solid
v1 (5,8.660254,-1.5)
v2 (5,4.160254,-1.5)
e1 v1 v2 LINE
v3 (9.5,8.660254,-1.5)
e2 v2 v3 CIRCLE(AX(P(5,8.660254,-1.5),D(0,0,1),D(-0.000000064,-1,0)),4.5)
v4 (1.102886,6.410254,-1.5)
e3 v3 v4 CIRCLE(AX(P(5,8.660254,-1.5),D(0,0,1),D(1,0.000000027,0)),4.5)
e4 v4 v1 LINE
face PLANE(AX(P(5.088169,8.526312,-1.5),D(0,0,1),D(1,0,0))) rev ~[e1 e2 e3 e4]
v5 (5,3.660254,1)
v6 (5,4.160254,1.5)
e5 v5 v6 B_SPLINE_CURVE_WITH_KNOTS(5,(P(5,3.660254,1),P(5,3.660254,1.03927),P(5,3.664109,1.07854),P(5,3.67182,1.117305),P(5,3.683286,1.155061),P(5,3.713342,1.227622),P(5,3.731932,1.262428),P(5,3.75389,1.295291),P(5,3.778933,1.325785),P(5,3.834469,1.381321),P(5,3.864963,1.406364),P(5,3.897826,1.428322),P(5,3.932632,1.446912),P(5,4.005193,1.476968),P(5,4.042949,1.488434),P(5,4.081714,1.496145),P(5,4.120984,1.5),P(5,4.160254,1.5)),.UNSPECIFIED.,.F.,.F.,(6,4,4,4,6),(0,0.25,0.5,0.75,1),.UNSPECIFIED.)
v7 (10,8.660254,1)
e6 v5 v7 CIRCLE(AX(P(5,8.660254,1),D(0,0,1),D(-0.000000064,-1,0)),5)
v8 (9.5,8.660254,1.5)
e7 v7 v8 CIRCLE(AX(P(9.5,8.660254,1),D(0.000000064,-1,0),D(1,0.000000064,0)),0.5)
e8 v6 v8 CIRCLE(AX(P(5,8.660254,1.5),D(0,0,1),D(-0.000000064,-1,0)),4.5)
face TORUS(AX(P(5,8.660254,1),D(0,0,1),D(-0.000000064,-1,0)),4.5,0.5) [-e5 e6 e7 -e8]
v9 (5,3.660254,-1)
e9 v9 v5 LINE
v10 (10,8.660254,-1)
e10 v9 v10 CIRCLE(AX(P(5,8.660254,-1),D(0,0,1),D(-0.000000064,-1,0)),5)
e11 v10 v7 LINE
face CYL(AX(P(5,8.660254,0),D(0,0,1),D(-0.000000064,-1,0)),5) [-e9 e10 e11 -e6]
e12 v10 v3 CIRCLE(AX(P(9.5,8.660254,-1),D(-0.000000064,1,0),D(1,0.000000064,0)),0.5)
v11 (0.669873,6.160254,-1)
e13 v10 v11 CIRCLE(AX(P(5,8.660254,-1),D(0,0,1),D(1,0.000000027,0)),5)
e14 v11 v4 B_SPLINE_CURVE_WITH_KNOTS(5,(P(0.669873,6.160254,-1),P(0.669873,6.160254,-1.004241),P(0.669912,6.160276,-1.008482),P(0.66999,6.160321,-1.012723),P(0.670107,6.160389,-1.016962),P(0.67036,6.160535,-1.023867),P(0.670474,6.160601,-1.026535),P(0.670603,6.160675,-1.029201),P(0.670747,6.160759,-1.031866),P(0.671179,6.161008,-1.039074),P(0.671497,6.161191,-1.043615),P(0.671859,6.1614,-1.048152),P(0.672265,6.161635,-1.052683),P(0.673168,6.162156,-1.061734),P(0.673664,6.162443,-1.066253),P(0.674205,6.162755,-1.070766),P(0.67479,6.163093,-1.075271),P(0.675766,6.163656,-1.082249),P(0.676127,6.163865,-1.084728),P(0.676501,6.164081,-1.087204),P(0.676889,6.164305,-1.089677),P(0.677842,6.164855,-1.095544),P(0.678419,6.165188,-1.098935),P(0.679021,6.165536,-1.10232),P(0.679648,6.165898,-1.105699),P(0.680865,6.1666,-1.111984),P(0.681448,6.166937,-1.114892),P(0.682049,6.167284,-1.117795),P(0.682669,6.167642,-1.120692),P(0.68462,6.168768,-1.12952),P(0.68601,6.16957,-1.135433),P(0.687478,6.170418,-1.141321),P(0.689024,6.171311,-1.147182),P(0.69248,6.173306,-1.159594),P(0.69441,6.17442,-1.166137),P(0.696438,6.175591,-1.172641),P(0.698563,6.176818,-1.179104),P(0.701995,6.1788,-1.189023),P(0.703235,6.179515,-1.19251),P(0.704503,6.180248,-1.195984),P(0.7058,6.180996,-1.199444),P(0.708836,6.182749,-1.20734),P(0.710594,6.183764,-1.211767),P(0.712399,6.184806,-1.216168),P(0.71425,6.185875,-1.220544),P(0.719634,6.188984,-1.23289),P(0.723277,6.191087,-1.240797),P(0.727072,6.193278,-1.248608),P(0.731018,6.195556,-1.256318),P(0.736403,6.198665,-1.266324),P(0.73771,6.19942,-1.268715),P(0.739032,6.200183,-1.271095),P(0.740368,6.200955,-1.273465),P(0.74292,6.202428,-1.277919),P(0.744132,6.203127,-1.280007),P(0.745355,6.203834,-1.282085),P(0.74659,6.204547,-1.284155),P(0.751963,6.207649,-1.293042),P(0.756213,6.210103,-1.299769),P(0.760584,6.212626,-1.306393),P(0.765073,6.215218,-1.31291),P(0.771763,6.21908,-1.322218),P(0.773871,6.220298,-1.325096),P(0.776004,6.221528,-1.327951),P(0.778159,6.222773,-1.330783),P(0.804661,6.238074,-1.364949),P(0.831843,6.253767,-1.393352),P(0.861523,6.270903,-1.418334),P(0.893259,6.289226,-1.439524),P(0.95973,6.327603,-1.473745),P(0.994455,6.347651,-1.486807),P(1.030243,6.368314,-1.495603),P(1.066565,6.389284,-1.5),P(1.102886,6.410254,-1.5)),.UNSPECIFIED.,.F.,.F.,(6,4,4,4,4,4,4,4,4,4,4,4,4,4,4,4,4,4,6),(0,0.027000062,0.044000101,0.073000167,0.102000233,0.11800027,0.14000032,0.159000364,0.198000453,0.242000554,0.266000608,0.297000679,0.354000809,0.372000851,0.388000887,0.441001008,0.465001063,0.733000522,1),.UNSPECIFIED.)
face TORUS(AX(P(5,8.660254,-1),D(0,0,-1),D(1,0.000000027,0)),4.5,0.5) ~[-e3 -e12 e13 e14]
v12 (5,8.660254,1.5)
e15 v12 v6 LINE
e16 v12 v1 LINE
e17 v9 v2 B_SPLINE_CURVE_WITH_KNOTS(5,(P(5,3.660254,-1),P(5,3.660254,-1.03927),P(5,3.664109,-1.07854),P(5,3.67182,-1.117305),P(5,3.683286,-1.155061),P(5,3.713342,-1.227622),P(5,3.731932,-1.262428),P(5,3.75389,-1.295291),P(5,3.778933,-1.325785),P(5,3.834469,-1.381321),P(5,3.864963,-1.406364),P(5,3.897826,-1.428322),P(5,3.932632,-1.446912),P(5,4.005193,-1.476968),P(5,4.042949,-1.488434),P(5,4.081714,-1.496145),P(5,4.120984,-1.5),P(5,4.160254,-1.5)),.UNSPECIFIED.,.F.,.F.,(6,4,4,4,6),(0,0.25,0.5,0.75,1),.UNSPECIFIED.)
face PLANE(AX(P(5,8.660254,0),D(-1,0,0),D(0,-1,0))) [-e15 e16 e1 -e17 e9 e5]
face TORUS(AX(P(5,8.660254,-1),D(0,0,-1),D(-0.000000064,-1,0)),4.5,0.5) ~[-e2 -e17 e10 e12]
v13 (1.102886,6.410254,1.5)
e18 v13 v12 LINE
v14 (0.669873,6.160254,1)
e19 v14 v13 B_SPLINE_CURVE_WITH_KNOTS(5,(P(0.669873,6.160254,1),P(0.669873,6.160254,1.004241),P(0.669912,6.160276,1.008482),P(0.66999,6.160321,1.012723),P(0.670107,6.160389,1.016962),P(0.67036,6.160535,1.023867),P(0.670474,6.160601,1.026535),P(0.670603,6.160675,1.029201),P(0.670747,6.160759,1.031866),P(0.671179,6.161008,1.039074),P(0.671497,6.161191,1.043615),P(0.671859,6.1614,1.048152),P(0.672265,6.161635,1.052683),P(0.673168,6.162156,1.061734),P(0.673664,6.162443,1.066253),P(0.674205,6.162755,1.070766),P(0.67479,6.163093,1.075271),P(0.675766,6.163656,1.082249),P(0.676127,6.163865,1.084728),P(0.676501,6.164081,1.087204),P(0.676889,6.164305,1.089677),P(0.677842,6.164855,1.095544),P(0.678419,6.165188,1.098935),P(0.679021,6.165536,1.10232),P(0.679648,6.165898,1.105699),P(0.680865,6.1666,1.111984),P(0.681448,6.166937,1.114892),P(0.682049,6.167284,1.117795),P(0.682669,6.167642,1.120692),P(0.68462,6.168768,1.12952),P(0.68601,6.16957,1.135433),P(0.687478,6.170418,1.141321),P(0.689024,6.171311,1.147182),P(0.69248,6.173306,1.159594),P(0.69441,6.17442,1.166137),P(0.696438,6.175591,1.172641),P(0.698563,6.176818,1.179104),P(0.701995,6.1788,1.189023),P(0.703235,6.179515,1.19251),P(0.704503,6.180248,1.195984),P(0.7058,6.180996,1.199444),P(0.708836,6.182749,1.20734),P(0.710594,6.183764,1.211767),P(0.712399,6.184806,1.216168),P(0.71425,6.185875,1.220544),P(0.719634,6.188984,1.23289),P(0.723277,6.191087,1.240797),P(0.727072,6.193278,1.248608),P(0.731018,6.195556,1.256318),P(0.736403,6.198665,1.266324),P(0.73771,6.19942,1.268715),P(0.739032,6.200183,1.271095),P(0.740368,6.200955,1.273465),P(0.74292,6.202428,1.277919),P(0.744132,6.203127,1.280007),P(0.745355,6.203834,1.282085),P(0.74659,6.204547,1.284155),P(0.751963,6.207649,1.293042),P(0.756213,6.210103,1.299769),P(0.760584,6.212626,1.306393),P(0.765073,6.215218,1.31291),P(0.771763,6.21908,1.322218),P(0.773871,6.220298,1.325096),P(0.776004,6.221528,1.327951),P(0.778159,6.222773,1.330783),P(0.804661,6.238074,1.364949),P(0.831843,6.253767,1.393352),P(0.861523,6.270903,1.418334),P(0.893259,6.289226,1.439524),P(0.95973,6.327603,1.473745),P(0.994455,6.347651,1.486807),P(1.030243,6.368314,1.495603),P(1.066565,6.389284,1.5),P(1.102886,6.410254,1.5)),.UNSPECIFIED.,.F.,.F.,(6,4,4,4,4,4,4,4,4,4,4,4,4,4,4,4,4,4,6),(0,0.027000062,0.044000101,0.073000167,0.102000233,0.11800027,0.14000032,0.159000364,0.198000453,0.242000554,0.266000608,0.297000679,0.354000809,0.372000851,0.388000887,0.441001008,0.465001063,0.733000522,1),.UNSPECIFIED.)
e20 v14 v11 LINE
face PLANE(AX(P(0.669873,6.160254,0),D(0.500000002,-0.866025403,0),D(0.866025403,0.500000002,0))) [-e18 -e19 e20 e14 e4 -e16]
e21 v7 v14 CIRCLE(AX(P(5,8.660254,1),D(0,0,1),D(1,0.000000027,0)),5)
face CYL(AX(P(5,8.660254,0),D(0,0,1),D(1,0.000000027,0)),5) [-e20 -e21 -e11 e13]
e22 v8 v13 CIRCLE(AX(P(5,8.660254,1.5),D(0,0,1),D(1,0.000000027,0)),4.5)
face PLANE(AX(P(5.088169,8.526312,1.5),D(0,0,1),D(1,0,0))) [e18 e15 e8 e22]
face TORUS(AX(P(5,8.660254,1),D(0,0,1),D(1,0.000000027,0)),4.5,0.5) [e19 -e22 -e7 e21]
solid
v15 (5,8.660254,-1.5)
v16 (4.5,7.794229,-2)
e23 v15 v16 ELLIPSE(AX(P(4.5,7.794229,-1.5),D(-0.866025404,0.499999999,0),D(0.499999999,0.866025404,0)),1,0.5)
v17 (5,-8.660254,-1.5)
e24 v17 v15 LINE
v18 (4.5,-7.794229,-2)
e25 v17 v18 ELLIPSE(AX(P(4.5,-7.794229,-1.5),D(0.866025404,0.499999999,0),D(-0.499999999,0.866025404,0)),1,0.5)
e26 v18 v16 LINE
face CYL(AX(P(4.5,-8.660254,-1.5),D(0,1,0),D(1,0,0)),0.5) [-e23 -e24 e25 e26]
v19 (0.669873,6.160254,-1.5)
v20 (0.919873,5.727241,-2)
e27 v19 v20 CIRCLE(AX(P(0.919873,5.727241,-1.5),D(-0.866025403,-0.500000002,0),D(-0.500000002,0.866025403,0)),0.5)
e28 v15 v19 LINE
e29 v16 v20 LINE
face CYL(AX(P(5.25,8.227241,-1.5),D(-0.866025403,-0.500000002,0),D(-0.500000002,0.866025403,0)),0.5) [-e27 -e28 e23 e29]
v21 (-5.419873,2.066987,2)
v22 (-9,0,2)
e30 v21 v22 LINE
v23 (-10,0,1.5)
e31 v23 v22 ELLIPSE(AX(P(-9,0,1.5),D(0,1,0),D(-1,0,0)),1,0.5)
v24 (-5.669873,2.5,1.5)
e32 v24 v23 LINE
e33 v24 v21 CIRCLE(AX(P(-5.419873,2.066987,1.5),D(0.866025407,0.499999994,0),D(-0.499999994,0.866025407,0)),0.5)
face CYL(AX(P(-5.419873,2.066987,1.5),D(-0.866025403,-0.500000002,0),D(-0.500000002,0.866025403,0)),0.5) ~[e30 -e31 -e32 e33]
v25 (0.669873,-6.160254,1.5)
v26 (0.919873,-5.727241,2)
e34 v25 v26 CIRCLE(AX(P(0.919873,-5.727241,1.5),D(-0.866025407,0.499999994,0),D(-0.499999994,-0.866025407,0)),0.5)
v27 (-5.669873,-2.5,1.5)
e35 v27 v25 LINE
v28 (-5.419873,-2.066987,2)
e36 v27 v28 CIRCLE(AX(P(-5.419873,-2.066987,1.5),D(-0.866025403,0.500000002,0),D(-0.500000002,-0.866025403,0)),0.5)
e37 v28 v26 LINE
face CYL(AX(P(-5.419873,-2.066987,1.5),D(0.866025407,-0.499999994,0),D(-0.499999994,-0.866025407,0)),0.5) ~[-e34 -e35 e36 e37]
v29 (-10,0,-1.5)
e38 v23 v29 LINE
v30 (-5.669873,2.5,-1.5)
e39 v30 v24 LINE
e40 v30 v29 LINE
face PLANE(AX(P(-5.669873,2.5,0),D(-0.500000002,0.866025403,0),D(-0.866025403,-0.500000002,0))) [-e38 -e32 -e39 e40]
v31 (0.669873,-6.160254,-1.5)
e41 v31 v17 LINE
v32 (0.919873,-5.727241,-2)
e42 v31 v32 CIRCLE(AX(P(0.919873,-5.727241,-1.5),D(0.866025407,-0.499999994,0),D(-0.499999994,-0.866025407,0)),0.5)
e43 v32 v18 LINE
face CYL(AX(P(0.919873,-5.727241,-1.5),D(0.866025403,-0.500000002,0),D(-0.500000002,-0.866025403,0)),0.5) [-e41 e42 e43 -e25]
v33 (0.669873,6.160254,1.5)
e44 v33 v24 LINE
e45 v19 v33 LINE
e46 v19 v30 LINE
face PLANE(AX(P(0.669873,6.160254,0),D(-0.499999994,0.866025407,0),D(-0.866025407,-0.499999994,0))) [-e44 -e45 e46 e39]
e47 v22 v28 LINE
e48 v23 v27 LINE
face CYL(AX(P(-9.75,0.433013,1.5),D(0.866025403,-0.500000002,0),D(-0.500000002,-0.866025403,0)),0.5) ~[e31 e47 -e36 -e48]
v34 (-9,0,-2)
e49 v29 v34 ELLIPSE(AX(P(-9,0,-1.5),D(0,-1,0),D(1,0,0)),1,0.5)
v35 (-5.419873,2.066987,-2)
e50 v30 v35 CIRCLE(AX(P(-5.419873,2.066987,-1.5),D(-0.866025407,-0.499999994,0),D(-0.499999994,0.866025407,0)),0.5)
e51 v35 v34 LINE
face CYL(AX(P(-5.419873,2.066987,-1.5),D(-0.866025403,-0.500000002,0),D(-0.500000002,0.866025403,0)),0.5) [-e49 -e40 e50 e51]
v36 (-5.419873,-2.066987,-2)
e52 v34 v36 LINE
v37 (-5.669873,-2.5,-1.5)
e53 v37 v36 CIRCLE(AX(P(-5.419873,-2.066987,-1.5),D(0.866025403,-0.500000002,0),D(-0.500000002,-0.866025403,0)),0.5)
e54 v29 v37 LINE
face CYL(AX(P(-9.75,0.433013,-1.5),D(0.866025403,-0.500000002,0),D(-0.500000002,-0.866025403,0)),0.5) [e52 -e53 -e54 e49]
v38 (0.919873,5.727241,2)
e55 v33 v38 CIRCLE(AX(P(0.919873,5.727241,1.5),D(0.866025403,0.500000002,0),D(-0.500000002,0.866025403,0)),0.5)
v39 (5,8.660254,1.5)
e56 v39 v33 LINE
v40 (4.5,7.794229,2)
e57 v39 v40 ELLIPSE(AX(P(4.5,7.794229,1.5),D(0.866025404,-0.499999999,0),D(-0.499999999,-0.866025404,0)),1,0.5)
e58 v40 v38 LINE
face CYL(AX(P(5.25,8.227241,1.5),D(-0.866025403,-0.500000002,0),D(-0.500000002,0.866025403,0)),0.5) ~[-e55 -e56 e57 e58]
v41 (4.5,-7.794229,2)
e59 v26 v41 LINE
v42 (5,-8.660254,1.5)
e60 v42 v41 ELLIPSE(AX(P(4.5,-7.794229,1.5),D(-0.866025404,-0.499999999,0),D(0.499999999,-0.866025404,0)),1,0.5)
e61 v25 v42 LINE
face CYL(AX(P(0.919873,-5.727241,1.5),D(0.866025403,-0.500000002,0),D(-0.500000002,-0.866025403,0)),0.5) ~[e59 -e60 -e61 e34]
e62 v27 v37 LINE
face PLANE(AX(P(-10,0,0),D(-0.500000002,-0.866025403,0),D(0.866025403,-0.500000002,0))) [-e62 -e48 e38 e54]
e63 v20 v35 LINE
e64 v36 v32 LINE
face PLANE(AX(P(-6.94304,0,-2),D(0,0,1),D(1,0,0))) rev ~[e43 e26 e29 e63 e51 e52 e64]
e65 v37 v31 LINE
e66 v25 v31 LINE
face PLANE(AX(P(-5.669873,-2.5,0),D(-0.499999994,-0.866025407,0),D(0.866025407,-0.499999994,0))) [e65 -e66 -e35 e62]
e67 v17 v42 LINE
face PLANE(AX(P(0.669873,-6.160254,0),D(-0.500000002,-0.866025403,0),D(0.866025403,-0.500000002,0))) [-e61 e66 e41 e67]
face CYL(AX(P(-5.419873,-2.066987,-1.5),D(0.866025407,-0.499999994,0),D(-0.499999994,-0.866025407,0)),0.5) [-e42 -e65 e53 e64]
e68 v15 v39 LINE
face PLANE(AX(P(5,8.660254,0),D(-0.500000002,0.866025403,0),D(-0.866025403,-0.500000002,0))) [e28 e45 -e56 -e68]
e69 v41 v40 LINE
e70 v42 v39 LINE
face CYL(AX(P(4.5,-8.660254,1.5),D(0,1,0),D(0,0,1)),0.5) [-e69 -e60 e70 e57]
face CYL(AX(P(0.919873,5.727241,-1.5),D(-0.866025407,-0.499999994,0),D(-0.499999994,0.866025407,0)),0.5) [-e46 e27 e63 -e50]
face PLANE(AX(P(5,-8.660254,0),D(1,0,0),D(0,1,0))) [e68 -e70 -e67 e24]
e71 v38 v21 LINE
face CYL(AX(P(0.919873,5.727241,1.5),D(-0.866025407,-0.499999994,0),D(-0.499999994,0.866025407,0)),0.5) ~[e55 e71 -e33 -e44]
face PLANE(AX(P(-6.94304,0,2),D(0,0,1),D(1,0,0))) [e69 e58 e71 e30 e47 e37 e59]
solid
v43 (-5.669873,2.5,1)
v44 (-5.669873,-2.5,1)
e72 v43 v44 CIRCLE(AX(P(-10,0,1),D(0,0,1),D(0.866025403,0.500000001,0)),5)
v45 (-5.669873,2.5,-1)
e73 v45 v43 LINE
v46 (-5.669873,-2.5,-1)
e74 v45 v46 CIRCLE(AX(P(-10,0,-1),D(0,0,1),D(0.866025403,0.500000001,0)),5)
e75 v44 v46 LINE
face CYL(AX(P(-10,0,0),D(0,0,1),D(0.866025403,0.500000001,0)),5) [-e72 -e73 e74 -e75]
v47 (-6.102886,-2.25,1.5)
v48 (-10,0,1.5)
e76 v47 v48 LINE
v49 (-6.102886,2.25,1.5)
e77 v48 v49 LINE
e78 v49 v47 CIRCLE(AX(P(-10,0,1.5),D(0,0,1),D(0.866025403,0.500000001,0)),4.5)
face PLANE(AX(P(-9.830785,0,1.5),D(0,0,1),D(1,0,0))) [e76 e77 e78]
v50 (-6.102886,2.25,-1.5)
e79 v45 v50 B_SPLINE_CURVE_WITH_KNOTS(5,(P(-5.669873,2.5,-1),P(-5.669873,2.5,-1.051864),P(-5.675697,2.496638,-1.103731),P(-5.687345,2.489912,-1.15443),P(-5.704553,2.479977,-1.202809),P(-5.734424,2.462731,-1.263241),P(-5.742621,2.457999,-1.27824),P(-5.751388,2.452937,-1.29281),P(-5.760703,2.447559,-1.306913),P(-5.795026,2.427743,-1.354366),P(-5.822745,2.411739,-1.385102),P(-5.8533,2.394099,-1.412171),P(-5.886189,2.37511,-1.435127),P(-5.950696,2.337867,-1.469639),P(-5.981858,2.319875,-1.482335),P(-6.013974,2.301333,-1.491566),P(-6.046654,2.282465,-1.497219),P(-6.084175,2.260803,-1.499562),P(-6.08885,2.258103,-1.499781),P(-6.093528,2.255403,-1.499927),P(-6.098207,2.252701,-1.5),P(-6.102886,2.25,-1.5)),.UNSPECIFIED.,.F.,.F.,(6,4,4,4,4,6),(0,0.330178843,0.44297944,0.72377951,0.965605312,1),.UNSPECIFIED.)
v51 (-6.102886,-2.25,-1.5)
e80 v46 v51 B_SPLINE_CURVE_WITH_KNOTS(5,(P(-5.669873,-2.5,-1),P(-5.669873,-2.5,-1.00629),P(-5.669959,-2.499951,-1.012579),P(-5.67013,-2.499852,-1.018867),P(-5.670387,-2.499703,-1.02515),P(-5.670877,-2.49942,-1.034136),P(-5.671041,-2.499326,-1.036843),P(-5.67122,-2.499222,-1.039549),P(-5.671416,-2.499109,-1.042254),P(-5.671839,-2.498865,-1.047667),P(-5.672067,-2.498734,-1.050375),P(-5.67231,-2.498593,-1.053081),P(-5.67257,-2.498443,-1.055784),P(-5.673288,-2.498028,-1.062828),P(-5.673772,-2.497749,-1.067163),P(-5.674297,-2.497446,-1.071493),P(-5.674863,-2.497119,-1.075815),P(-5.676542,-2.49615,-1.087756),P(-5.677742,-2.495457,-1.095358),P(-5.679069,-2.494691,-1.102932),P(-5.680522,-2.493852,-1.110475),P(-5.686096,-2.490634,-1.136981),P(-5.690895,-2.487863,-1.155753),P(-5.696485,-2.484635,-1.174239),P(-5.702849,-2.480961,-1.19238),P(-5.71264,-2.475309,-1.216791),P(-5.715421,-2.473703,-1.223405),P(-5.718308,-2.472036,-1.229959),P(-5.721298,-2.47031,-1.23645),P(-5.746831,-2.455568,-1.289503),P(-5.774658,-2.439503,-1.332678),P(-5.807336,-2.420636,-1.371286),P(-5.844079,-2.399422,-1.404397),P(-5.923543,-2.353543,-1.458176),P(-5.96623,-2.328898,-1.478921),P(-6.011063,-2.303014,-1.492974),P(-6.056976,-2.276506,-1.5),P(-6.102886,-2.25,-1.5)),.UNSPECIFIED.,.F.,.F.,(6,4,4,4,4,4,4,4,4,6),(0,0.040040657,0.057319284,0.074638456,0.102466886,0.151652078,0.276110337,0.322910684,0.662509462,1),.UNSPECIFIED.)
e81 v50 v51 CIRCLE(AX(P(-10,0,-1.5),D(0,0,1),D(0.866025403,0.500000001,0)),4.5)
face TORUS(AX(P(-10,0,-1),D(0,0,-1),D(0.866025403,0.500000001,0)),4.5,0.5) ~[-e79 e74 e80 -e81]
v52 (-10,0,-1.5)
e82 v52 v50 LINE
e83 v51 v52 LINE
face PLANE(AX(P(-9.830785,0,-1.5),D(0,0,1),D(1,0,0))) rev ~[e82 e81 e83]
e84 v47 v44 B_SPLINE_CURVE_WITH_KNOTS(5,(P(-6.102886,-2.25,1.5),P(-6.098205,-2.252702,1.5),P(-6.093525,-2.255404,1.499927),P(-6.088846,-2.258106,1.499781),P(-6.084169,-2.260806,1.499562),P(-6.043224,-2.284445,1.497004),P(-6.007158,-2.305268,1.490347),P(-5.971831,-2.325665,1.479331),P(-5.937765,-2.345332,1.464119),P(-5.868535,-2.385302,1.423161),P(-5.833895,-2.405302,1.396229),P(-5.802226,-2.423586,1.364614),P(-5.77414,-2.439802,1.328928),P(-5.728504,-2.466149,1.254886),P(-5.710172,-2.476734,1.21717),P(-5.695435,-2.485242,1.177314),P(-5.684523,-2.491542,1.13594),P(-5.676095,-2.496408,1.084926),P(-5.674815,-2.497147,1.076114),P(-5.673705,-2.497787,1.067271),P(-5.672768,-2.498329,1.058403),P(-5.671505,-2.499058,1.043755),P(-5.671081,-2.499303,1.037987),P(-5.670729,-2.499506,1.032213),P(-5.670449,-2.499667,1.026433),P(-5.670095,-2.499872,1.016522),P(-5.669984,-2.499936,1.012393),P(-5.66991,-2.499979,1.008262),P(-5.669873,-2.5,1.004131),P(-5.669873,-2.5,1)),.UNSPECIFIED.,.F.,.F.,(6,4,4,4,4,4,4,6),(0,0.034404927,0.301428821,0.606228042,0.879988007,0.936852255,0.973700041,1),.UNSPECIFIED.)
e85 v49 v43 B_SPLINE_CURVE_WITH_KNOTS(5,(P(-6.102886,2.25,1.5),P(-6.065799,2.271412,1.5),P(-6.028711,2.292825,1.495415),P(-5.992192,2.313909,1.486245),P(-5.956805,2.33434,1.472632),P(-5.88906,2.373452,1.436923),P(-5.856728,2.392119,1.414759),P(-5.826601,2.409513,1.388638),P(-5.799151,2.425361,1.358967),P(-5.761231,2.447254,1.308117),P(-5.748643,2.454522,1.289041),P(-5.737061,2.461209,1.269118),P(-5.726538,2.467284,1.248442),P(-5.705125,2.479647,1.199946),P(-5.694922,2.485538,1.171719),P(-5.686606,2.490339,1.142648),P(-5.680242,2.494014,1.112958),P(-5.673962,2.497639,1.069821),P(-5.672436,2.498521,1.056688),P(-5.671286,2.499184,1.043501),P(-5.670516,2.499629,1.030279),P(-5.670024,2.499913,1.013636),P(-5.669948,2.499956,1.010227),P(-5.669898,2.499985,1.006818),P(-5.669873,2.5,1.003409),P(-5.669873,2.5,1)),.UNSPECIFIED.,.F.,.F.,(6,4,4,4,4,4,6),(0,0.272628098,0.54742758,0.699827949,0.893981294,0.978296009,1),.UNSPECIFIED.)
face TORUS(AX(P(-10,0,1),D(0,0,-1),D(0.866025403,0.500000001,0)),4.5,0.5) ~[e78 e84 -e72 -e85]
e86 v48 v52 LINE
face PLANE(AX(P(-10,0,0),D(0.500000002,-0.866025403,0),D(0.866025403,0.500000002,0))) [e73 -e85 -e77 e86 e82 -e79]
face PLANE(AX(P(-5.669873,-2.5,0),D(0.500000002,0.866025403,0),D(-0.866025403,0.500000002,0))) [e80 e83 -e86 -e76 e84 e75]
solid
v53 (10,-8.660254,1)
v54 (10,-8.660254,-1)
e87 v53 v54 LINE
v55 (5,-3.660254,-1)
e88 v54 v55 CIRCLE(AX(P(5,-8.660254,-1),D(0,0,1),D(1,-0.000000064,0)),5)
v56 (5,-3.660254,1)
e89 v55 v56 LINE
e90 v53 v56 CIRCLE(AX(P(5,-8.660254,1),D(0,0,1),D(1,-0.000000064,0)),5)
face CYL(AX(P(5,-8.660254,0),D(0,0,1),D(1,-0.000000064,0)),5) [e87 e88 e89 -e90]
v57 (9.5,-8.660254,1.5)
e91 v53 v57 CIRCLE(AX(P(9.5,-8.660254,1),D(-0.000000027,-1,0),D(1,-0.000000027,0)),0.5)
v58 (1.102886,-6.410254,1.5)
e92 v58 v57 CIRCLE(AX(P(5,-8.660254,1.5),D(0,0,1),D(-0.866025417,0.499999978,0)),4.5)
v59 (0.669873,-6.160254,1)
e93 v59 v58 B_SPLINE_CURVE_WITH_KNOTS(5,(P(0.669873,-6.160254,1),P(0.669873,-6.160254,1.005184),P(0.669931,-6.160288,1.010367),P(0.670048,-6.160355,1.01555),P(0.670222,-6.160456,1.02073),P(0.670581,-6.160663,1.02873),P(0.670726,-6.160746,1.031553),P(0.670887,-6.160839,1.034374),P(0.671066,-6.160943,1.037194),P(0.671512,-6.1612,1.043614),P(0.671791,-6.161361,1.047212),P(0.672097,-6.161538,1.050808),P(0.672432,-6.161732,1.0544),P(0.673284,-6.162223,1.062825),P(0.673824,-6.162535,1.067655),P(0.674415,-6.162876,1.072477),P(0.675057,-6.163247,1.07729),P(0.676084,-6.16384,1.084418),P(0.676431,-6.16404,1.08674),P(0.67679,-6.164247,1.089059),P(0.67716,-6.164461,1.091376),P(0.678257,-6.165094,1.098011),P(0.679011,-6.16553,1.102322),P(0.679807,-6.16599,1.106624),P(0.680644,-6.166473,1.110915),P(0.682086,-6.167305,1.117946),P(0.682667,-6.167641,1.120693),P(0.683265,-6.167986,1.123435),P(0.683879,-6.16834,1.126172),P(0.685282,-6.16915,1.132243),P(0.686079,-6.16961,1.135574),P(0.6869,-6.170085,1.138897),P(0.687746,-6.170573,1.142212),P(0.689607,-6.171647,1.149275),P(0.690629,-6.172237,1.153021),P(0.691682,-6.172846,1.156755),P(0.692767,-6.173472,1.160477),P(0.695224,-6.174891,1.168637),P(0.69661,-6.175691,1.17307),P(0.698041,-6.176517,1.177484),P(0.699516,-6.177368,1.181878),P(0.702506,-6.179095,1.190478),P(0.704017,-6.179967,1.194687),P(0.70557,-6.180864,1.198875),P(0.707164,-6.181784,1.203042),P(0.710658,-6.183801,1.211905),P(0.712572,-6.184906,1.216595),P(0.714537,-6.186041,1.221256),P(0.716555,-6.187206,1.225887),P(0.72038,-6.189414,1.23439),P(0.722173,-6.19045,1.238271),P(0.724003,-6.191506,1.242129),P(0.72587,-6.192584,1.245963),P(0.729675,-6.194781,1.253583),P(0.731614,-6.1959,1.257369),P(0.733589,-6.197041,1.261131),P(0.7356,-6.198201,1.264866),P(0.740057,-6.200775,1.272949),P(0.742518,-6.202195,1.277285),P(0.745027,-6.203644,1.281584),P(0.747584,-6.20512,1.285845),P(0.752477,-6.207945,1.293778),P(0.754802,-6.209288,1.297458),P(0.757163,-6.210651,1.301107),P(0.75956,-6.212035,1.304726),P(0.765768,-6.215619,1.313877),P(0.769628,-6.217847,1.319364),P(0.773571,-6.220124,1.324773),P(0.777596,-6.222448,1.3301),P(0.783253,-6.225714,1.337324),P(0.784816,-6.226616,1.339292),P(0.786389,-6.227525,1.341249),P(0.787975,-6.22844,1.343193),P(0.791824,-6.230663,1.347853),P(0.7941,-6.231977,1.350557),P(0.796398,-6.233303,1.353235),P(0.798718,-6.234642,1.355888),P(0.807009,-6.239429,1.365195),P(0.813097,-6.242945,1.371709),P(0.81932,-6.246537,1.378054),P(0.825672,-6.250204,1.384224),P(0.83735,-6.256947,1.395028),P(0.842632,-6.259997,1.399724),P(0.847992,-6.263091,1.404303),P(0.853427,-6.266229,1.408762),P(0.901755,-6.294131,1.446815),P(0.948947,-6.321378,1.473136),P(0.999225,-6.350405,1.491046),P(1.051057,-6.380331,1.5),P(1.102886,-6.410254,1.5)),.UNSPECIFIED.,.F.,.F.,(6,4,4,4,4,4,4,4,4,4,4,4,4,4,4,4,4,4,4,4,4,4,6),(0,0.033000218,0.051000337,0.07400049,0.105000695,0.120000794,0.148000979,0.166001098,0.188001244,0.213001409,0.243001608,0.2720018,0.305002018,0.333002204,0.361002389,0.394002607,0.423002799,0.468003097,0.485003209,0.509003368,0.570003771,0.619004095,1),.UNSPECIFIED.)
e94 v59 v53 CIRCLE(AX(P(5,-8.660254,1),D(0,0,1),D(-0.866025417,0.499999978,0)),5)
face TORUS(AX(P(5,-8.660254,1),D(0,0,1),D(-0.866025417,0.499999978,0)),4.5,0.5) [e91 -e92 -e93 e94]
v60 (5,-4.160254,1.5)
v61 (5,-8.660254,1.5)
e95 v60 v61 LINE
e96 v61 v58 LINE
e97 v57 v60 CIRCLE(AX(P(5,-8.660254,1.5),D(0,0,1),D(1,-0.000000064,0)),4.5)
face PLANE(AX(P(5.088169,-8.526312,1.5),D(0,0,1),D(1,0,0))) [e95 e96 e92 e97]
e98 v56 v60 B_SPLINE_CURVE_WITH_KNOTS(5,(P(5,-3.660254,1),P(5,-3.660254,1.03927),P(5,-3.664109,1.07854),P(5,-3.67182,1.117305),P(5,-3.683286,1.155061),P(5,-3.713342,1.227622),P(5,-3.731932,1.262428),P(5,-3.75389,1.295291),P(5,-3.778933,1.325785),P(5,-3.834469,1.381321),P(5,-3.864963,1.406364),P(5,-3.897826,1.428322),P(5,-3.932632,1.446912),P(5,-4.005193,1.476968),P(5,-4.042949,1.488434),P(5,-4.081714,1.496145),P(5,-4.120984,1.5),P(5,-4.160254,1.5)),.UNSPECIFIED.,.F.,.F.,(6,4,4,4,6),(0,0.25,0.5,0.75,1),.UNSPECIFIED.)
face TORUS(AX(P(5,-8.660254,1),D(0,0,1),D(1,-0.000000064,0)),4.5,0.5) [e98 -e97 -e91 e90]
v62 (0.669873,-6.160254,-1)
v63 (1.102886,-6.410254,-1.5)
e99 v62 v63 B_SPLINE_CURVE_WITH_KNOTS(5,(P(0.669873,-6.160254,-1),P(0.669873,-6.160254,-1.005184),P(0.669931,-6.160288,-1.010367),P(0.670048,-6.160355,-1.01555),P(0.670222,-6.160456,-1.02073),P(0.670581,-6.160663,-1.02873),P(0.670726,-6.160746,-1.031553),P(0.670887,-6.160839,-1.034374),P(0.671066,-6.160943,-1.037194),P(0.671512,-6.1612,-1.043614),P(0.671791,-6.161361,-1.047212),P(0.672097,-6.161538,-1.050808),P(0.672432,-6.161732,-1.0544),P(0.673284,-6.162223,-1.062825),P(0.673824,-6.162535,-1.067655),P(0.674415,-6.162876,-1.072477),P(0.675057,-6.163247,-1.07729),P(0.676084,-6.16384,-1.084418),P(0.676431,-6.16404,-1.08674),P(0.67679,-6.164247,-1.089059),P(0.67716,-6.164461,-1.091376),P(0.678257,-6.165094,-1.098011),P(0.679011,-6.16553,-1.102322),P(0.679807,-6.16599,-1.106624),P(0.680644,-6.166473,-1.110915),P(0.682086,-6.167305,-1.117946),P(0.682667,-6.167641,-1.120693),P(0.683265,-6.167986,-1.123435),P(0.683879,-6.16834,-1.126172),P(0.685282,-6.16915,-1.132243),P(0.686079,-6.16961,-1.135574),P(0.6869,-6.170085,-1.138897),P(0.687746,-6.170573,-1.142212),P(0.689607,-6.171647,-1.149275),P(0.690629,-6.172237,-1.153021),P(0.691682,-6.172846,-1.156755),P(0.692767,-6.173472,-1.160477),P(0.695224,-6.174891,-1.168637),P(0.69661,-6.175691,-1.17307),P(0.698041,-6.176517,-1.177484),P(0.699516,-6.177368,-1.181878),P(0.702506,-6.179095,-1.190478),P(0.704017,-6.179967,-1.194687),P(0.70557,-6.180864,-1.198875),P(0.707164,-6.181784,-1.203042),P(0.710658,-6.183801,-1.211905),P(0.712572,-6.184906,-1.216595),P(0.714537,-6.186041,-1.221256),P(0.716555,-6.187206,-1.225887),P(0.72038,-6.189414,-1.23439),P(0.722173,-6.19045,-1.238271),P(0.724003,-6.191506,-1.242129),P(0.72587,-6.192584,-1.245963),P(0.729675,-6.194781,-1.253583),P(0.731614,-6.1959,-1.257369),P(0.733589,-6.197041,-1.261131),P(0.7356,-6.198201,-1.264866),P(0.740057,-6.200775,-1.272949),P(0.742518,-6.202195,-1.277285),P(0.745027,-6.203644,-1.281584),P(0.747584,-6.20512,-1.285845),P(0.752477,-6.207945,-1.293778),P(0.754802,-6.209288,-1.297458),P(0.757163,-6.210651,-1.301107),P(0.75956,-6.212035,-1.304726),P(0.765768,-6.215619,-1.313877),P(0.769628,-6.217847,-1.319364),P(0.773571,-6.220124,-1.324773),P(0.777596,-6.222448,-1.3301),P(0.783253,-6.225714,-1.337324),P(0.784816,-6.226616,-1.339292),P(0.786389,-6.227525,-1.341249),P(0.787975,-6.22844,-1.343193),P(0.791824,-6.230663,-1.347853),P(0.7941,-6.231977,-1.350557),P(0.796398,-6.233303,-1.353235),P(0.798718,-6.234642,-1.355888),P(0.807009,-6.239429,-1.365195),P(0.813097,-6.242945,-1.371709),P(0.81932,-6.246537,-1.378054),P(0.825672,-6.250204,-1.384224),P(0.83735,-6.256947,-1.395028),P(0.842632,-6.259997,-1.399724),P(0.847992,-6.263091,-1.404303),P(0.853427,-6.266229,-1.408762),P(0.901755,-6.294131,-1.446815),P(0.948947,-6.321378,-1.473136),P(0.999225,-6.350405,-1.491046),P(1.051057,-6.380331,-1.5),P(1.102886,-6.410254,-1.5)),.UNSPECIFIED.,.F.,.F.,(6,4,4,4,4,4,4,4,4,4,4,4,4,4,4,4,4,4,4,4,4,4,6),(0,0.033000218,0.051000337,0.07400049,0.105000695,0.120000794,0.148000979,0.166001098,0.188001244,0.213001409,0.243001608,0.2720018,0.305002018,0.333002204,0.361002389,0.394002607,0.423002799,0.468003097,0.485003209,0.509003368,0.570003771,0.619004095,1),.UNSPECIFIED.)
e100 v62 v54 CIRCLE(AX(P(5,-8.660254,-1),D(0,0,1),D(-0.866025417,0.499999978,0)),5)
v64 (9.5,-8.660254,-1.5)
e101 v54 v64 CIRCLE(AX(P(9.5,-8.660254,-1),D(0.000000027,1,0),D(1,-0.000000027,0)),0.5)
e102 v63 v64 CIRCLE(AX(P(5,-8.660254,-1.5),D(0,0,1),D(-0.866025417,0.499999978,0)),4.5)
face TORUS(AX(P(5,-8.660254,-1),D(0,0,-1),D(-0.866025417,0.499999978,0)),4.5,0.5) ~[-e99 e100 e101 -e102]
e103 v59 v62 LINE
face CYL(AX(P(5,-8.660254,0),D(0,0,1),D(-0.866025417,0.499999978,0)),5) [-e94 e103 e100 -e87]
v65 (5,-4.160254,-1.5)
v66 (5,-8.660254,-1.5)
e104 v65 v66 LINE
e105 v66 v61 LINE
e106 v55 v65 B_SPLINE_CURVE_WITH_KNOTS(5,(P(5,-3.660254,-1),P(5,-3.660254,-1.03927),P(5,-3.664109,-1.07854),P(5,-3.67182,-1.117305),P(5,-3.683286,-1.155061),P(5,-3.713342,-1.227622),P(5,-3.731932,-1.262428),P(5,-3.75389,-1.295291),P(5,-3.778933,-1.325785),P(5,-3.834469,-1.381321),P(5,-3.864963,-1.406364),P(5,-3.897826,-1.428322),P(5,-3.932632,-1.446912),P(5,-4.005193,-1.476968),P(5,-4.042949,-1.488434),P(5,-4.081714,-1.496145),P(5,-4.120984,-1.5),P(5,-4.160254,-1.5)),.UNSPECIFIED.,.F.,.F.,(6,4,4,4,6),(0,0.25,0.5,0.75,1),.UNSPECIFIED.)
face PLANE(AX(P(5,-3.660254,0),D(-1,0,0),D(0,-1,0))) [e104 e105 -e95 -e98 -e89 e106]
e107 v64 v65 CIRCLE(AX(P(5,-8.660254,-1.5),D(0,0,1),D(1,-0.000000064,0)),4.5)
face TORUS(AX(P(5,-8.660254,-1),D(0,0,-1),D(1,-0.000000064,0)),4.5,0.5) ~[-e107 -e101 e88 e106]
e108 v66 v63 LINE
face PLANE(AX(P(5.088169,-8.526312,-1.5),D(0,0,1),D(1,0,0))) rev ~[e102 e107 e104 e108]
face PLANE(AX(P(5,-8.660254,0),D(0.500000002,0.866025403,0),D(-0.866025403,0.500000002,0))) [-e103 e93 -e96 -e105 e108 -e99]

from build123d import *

# Parameters (mm, degrees)
F1_DEPTH      = 2
F1_DEPTH_BACK = 2
F2_DEPTH      = 1.5
F2_DEPTH_BACK = 1.5
F3_R          = 0.5
F3_2_R        = 0.5


with BuildPart() as f1:
    # F0 (on Top) → F1 (new body, two sides)
    with BuildSketch(Plane.XY) as f1_sk:
        with BuildLine():
            ThreePointArc((-5.669873, -2.5), (-5.170371, -1.294095), (-5, 0))
            ThreePointArc((-5, 0), (-5.170371, 1.294095), (-5.669873, 2.5))
            Line((-5.669873, 2.5), (-10, 0))
            Line((-10, 0), (-5.669873, -2.5))
        make_face()
        with BuildLine():
            ThreePointArc((-5, 0), (-4.330127, 2.5), (-2.5, 4.330127))
            Line((-2.5, 4.330127), (-5.669873, 2.5))
            ThreePointArc((-5.669873, 2.5), (-5.170371, 1.294095), (-5, 0))
        make_face()
        with BuildLine():
            ThreePointArc((5, -3.660254), (3.705905, -3.830625), (2.5, -4.330127))
            ThreePointArc((2.5, -4.330127), (1.464466, -5.12472), (0.669873, -6.160254))
            Line((0.669873, -6.160254), (5, -8.660254))
            Line((5, -8.660254), (5, -3.660254))
        make_face()
        with BuildLine():
            ThreePointArc((2.5, 4.330127), (4.330127, 2.5), (5, 0))
            Line((5, 0), (5, 3.660254))
            ThreePointArc((5, 3.660254), (3.705905, 3.830625), (2.5, 4.330127))
        make_face()
        with BuildLine():
            ThreePointArc((-2.5, 4.330127), (0, 5), (2.5, 4.330127))
            ThreePointArc((2.5, 4.330127), (1.464466, 5.12472), (0.669873, 6.160254))
            Line((0.669873, 6.160254), (-2.5, 4.330127))
        make_face()
        with BuildLine():
            ThreePointArc((0.669873, -6.160254), (1.464466, -5.12472), (2.5, -4.330127))
            ThreePointArc((2.5, -4.330127), (0, -5), (-2.5, -4.330127))
            Line((-2.5, -4.330127), (0.669873, -6.160254))
        make_face()
        with BuildLine():
            Line((5, -3.660254), (5, 0))
            ThreePointArc((5, 0), (4.330127, -2.5), (2.5, -4.330127))
            ThreePointArc((2.5, -4.330127), (3.705905, -3.830625), (5, -3.660254))
        make_face()
        with BuildLine():
            ThreePointArc((2.5, -4.330127), (4.330127, -2.5), (5, 0))
            ThreePointArc((5, 0), (4.330127, 2.5), (2.5, 4.330127))
            ThreePointArc((2.5, 4.330127), (0, 5), (-2.5, 4.330127))
            ThreePointArc((-2.5, 4.330127), (-4.330127, 2.5), (-5, 0))
            ThreePointArc((-5, 0), (-4.330127, -2.5), (-2.5, -4.330127))
            ThreePointArc((-2.5, -4.330127), (0, -5), (2.5, -4.330127))
        make_face()
        with BuildLine():
            ThreePointArc((0.669873, 6.160254), (1.464466, 5.12472), (2.5, 4.330127))
            ThreePointArc((2.5, 4.330127), (3.705905, 3.830625), (5, 3.660254))
            Line((5, 3.660254), (5, 8.660254))
            Line((5, 8.660254), (0.669873, 6.160254))
        make_face()
        with BuildLine():
            Line((-5.669873, -2.5), (-2.5, -4.330127))
            ThreePointArc((-2.5, -4.330127), (-4.330127, -2.5), (-5, 0))
            ThreePointArc((-5, 0), (-5.170371, -1.294095), (-5.669873, -2.5))
        make_face()
    extrude(amount=F1_DEPTH)
    extrude(f1_sk.sketch, amount=-F1_DEPTH_BACK)

    # F3
    f3_edges = [f1.edges().sort_by_distance(p)[0] for p in [
        (-2.5, 4.330127, 2),
        (-2.5, -4.330127, 2),
        (5, 0, 2),
        (5, 0, -2),
        (-2.5, -4.330127, -2),
        (-2.5, 4.330127, -2),
    ]]
    fillet(f3_edges, radius=F3_R)


with BuildPart() as f2:
    # F0 (on Top) → F2 (new body, two sides)
    with BuildSketch(Plane.XY) as f2_sk:
        with BuildLine():
            ThreePointArc((10, -8.660254), (8.535534, -5.12472), (5, -3.660254))
            Line((5, -3.660254), (5, -8.660254))
            Line((5, -8.660254), (0.669873, -6.160254))
            ThreePointArc((0.669873, -6.160254), (3.705905, -13.489883), (10, -8.660254))
        make_face()
        with BuildLine():
            Line((-10, 0), (-5.669873, 2.5))
            ThreePointArc((-5.669873, 2.5), (-15, 0), (-5.669873, -2.5))
            Line((-5.669873, -2.5), (-10, 0))
        make_face()
        with BuildLine():
            Line((5, 8.660254), (5, 3.660254))
            ThreePointArc((5, 3.660254), (8.535534, 5.12472), (10, 8.660254))
            ThreePointArc((10, 8.660254), (3.705905, 13.489883), (0.669873, 6.160254))
            Line((0.669873, 6.160254), (5, 8.660254))
        make_face()
    extrude(amount=F2_DEPTH)
    extrude(f2_sk.sketch, amount=-F2_DEPTH_BACK)

    # F3#2
    f3_2_edges = [f2.edges().sort_by_distance(p)[0] for p in [
        (7.5, 12.990381, 1.5),
        (7.5, 12.990381, -1.5),
        (3.705905, -13.489883, 1.5),
        (3.705905, -13.489883, -1.5),
        (-15, 0, -1.5),
        (-15, 0, 1.5),
    ]]
    fillet(f3_2_edges, radius=F3_2_R)


solid = Compound([f1.part, f2.part])
